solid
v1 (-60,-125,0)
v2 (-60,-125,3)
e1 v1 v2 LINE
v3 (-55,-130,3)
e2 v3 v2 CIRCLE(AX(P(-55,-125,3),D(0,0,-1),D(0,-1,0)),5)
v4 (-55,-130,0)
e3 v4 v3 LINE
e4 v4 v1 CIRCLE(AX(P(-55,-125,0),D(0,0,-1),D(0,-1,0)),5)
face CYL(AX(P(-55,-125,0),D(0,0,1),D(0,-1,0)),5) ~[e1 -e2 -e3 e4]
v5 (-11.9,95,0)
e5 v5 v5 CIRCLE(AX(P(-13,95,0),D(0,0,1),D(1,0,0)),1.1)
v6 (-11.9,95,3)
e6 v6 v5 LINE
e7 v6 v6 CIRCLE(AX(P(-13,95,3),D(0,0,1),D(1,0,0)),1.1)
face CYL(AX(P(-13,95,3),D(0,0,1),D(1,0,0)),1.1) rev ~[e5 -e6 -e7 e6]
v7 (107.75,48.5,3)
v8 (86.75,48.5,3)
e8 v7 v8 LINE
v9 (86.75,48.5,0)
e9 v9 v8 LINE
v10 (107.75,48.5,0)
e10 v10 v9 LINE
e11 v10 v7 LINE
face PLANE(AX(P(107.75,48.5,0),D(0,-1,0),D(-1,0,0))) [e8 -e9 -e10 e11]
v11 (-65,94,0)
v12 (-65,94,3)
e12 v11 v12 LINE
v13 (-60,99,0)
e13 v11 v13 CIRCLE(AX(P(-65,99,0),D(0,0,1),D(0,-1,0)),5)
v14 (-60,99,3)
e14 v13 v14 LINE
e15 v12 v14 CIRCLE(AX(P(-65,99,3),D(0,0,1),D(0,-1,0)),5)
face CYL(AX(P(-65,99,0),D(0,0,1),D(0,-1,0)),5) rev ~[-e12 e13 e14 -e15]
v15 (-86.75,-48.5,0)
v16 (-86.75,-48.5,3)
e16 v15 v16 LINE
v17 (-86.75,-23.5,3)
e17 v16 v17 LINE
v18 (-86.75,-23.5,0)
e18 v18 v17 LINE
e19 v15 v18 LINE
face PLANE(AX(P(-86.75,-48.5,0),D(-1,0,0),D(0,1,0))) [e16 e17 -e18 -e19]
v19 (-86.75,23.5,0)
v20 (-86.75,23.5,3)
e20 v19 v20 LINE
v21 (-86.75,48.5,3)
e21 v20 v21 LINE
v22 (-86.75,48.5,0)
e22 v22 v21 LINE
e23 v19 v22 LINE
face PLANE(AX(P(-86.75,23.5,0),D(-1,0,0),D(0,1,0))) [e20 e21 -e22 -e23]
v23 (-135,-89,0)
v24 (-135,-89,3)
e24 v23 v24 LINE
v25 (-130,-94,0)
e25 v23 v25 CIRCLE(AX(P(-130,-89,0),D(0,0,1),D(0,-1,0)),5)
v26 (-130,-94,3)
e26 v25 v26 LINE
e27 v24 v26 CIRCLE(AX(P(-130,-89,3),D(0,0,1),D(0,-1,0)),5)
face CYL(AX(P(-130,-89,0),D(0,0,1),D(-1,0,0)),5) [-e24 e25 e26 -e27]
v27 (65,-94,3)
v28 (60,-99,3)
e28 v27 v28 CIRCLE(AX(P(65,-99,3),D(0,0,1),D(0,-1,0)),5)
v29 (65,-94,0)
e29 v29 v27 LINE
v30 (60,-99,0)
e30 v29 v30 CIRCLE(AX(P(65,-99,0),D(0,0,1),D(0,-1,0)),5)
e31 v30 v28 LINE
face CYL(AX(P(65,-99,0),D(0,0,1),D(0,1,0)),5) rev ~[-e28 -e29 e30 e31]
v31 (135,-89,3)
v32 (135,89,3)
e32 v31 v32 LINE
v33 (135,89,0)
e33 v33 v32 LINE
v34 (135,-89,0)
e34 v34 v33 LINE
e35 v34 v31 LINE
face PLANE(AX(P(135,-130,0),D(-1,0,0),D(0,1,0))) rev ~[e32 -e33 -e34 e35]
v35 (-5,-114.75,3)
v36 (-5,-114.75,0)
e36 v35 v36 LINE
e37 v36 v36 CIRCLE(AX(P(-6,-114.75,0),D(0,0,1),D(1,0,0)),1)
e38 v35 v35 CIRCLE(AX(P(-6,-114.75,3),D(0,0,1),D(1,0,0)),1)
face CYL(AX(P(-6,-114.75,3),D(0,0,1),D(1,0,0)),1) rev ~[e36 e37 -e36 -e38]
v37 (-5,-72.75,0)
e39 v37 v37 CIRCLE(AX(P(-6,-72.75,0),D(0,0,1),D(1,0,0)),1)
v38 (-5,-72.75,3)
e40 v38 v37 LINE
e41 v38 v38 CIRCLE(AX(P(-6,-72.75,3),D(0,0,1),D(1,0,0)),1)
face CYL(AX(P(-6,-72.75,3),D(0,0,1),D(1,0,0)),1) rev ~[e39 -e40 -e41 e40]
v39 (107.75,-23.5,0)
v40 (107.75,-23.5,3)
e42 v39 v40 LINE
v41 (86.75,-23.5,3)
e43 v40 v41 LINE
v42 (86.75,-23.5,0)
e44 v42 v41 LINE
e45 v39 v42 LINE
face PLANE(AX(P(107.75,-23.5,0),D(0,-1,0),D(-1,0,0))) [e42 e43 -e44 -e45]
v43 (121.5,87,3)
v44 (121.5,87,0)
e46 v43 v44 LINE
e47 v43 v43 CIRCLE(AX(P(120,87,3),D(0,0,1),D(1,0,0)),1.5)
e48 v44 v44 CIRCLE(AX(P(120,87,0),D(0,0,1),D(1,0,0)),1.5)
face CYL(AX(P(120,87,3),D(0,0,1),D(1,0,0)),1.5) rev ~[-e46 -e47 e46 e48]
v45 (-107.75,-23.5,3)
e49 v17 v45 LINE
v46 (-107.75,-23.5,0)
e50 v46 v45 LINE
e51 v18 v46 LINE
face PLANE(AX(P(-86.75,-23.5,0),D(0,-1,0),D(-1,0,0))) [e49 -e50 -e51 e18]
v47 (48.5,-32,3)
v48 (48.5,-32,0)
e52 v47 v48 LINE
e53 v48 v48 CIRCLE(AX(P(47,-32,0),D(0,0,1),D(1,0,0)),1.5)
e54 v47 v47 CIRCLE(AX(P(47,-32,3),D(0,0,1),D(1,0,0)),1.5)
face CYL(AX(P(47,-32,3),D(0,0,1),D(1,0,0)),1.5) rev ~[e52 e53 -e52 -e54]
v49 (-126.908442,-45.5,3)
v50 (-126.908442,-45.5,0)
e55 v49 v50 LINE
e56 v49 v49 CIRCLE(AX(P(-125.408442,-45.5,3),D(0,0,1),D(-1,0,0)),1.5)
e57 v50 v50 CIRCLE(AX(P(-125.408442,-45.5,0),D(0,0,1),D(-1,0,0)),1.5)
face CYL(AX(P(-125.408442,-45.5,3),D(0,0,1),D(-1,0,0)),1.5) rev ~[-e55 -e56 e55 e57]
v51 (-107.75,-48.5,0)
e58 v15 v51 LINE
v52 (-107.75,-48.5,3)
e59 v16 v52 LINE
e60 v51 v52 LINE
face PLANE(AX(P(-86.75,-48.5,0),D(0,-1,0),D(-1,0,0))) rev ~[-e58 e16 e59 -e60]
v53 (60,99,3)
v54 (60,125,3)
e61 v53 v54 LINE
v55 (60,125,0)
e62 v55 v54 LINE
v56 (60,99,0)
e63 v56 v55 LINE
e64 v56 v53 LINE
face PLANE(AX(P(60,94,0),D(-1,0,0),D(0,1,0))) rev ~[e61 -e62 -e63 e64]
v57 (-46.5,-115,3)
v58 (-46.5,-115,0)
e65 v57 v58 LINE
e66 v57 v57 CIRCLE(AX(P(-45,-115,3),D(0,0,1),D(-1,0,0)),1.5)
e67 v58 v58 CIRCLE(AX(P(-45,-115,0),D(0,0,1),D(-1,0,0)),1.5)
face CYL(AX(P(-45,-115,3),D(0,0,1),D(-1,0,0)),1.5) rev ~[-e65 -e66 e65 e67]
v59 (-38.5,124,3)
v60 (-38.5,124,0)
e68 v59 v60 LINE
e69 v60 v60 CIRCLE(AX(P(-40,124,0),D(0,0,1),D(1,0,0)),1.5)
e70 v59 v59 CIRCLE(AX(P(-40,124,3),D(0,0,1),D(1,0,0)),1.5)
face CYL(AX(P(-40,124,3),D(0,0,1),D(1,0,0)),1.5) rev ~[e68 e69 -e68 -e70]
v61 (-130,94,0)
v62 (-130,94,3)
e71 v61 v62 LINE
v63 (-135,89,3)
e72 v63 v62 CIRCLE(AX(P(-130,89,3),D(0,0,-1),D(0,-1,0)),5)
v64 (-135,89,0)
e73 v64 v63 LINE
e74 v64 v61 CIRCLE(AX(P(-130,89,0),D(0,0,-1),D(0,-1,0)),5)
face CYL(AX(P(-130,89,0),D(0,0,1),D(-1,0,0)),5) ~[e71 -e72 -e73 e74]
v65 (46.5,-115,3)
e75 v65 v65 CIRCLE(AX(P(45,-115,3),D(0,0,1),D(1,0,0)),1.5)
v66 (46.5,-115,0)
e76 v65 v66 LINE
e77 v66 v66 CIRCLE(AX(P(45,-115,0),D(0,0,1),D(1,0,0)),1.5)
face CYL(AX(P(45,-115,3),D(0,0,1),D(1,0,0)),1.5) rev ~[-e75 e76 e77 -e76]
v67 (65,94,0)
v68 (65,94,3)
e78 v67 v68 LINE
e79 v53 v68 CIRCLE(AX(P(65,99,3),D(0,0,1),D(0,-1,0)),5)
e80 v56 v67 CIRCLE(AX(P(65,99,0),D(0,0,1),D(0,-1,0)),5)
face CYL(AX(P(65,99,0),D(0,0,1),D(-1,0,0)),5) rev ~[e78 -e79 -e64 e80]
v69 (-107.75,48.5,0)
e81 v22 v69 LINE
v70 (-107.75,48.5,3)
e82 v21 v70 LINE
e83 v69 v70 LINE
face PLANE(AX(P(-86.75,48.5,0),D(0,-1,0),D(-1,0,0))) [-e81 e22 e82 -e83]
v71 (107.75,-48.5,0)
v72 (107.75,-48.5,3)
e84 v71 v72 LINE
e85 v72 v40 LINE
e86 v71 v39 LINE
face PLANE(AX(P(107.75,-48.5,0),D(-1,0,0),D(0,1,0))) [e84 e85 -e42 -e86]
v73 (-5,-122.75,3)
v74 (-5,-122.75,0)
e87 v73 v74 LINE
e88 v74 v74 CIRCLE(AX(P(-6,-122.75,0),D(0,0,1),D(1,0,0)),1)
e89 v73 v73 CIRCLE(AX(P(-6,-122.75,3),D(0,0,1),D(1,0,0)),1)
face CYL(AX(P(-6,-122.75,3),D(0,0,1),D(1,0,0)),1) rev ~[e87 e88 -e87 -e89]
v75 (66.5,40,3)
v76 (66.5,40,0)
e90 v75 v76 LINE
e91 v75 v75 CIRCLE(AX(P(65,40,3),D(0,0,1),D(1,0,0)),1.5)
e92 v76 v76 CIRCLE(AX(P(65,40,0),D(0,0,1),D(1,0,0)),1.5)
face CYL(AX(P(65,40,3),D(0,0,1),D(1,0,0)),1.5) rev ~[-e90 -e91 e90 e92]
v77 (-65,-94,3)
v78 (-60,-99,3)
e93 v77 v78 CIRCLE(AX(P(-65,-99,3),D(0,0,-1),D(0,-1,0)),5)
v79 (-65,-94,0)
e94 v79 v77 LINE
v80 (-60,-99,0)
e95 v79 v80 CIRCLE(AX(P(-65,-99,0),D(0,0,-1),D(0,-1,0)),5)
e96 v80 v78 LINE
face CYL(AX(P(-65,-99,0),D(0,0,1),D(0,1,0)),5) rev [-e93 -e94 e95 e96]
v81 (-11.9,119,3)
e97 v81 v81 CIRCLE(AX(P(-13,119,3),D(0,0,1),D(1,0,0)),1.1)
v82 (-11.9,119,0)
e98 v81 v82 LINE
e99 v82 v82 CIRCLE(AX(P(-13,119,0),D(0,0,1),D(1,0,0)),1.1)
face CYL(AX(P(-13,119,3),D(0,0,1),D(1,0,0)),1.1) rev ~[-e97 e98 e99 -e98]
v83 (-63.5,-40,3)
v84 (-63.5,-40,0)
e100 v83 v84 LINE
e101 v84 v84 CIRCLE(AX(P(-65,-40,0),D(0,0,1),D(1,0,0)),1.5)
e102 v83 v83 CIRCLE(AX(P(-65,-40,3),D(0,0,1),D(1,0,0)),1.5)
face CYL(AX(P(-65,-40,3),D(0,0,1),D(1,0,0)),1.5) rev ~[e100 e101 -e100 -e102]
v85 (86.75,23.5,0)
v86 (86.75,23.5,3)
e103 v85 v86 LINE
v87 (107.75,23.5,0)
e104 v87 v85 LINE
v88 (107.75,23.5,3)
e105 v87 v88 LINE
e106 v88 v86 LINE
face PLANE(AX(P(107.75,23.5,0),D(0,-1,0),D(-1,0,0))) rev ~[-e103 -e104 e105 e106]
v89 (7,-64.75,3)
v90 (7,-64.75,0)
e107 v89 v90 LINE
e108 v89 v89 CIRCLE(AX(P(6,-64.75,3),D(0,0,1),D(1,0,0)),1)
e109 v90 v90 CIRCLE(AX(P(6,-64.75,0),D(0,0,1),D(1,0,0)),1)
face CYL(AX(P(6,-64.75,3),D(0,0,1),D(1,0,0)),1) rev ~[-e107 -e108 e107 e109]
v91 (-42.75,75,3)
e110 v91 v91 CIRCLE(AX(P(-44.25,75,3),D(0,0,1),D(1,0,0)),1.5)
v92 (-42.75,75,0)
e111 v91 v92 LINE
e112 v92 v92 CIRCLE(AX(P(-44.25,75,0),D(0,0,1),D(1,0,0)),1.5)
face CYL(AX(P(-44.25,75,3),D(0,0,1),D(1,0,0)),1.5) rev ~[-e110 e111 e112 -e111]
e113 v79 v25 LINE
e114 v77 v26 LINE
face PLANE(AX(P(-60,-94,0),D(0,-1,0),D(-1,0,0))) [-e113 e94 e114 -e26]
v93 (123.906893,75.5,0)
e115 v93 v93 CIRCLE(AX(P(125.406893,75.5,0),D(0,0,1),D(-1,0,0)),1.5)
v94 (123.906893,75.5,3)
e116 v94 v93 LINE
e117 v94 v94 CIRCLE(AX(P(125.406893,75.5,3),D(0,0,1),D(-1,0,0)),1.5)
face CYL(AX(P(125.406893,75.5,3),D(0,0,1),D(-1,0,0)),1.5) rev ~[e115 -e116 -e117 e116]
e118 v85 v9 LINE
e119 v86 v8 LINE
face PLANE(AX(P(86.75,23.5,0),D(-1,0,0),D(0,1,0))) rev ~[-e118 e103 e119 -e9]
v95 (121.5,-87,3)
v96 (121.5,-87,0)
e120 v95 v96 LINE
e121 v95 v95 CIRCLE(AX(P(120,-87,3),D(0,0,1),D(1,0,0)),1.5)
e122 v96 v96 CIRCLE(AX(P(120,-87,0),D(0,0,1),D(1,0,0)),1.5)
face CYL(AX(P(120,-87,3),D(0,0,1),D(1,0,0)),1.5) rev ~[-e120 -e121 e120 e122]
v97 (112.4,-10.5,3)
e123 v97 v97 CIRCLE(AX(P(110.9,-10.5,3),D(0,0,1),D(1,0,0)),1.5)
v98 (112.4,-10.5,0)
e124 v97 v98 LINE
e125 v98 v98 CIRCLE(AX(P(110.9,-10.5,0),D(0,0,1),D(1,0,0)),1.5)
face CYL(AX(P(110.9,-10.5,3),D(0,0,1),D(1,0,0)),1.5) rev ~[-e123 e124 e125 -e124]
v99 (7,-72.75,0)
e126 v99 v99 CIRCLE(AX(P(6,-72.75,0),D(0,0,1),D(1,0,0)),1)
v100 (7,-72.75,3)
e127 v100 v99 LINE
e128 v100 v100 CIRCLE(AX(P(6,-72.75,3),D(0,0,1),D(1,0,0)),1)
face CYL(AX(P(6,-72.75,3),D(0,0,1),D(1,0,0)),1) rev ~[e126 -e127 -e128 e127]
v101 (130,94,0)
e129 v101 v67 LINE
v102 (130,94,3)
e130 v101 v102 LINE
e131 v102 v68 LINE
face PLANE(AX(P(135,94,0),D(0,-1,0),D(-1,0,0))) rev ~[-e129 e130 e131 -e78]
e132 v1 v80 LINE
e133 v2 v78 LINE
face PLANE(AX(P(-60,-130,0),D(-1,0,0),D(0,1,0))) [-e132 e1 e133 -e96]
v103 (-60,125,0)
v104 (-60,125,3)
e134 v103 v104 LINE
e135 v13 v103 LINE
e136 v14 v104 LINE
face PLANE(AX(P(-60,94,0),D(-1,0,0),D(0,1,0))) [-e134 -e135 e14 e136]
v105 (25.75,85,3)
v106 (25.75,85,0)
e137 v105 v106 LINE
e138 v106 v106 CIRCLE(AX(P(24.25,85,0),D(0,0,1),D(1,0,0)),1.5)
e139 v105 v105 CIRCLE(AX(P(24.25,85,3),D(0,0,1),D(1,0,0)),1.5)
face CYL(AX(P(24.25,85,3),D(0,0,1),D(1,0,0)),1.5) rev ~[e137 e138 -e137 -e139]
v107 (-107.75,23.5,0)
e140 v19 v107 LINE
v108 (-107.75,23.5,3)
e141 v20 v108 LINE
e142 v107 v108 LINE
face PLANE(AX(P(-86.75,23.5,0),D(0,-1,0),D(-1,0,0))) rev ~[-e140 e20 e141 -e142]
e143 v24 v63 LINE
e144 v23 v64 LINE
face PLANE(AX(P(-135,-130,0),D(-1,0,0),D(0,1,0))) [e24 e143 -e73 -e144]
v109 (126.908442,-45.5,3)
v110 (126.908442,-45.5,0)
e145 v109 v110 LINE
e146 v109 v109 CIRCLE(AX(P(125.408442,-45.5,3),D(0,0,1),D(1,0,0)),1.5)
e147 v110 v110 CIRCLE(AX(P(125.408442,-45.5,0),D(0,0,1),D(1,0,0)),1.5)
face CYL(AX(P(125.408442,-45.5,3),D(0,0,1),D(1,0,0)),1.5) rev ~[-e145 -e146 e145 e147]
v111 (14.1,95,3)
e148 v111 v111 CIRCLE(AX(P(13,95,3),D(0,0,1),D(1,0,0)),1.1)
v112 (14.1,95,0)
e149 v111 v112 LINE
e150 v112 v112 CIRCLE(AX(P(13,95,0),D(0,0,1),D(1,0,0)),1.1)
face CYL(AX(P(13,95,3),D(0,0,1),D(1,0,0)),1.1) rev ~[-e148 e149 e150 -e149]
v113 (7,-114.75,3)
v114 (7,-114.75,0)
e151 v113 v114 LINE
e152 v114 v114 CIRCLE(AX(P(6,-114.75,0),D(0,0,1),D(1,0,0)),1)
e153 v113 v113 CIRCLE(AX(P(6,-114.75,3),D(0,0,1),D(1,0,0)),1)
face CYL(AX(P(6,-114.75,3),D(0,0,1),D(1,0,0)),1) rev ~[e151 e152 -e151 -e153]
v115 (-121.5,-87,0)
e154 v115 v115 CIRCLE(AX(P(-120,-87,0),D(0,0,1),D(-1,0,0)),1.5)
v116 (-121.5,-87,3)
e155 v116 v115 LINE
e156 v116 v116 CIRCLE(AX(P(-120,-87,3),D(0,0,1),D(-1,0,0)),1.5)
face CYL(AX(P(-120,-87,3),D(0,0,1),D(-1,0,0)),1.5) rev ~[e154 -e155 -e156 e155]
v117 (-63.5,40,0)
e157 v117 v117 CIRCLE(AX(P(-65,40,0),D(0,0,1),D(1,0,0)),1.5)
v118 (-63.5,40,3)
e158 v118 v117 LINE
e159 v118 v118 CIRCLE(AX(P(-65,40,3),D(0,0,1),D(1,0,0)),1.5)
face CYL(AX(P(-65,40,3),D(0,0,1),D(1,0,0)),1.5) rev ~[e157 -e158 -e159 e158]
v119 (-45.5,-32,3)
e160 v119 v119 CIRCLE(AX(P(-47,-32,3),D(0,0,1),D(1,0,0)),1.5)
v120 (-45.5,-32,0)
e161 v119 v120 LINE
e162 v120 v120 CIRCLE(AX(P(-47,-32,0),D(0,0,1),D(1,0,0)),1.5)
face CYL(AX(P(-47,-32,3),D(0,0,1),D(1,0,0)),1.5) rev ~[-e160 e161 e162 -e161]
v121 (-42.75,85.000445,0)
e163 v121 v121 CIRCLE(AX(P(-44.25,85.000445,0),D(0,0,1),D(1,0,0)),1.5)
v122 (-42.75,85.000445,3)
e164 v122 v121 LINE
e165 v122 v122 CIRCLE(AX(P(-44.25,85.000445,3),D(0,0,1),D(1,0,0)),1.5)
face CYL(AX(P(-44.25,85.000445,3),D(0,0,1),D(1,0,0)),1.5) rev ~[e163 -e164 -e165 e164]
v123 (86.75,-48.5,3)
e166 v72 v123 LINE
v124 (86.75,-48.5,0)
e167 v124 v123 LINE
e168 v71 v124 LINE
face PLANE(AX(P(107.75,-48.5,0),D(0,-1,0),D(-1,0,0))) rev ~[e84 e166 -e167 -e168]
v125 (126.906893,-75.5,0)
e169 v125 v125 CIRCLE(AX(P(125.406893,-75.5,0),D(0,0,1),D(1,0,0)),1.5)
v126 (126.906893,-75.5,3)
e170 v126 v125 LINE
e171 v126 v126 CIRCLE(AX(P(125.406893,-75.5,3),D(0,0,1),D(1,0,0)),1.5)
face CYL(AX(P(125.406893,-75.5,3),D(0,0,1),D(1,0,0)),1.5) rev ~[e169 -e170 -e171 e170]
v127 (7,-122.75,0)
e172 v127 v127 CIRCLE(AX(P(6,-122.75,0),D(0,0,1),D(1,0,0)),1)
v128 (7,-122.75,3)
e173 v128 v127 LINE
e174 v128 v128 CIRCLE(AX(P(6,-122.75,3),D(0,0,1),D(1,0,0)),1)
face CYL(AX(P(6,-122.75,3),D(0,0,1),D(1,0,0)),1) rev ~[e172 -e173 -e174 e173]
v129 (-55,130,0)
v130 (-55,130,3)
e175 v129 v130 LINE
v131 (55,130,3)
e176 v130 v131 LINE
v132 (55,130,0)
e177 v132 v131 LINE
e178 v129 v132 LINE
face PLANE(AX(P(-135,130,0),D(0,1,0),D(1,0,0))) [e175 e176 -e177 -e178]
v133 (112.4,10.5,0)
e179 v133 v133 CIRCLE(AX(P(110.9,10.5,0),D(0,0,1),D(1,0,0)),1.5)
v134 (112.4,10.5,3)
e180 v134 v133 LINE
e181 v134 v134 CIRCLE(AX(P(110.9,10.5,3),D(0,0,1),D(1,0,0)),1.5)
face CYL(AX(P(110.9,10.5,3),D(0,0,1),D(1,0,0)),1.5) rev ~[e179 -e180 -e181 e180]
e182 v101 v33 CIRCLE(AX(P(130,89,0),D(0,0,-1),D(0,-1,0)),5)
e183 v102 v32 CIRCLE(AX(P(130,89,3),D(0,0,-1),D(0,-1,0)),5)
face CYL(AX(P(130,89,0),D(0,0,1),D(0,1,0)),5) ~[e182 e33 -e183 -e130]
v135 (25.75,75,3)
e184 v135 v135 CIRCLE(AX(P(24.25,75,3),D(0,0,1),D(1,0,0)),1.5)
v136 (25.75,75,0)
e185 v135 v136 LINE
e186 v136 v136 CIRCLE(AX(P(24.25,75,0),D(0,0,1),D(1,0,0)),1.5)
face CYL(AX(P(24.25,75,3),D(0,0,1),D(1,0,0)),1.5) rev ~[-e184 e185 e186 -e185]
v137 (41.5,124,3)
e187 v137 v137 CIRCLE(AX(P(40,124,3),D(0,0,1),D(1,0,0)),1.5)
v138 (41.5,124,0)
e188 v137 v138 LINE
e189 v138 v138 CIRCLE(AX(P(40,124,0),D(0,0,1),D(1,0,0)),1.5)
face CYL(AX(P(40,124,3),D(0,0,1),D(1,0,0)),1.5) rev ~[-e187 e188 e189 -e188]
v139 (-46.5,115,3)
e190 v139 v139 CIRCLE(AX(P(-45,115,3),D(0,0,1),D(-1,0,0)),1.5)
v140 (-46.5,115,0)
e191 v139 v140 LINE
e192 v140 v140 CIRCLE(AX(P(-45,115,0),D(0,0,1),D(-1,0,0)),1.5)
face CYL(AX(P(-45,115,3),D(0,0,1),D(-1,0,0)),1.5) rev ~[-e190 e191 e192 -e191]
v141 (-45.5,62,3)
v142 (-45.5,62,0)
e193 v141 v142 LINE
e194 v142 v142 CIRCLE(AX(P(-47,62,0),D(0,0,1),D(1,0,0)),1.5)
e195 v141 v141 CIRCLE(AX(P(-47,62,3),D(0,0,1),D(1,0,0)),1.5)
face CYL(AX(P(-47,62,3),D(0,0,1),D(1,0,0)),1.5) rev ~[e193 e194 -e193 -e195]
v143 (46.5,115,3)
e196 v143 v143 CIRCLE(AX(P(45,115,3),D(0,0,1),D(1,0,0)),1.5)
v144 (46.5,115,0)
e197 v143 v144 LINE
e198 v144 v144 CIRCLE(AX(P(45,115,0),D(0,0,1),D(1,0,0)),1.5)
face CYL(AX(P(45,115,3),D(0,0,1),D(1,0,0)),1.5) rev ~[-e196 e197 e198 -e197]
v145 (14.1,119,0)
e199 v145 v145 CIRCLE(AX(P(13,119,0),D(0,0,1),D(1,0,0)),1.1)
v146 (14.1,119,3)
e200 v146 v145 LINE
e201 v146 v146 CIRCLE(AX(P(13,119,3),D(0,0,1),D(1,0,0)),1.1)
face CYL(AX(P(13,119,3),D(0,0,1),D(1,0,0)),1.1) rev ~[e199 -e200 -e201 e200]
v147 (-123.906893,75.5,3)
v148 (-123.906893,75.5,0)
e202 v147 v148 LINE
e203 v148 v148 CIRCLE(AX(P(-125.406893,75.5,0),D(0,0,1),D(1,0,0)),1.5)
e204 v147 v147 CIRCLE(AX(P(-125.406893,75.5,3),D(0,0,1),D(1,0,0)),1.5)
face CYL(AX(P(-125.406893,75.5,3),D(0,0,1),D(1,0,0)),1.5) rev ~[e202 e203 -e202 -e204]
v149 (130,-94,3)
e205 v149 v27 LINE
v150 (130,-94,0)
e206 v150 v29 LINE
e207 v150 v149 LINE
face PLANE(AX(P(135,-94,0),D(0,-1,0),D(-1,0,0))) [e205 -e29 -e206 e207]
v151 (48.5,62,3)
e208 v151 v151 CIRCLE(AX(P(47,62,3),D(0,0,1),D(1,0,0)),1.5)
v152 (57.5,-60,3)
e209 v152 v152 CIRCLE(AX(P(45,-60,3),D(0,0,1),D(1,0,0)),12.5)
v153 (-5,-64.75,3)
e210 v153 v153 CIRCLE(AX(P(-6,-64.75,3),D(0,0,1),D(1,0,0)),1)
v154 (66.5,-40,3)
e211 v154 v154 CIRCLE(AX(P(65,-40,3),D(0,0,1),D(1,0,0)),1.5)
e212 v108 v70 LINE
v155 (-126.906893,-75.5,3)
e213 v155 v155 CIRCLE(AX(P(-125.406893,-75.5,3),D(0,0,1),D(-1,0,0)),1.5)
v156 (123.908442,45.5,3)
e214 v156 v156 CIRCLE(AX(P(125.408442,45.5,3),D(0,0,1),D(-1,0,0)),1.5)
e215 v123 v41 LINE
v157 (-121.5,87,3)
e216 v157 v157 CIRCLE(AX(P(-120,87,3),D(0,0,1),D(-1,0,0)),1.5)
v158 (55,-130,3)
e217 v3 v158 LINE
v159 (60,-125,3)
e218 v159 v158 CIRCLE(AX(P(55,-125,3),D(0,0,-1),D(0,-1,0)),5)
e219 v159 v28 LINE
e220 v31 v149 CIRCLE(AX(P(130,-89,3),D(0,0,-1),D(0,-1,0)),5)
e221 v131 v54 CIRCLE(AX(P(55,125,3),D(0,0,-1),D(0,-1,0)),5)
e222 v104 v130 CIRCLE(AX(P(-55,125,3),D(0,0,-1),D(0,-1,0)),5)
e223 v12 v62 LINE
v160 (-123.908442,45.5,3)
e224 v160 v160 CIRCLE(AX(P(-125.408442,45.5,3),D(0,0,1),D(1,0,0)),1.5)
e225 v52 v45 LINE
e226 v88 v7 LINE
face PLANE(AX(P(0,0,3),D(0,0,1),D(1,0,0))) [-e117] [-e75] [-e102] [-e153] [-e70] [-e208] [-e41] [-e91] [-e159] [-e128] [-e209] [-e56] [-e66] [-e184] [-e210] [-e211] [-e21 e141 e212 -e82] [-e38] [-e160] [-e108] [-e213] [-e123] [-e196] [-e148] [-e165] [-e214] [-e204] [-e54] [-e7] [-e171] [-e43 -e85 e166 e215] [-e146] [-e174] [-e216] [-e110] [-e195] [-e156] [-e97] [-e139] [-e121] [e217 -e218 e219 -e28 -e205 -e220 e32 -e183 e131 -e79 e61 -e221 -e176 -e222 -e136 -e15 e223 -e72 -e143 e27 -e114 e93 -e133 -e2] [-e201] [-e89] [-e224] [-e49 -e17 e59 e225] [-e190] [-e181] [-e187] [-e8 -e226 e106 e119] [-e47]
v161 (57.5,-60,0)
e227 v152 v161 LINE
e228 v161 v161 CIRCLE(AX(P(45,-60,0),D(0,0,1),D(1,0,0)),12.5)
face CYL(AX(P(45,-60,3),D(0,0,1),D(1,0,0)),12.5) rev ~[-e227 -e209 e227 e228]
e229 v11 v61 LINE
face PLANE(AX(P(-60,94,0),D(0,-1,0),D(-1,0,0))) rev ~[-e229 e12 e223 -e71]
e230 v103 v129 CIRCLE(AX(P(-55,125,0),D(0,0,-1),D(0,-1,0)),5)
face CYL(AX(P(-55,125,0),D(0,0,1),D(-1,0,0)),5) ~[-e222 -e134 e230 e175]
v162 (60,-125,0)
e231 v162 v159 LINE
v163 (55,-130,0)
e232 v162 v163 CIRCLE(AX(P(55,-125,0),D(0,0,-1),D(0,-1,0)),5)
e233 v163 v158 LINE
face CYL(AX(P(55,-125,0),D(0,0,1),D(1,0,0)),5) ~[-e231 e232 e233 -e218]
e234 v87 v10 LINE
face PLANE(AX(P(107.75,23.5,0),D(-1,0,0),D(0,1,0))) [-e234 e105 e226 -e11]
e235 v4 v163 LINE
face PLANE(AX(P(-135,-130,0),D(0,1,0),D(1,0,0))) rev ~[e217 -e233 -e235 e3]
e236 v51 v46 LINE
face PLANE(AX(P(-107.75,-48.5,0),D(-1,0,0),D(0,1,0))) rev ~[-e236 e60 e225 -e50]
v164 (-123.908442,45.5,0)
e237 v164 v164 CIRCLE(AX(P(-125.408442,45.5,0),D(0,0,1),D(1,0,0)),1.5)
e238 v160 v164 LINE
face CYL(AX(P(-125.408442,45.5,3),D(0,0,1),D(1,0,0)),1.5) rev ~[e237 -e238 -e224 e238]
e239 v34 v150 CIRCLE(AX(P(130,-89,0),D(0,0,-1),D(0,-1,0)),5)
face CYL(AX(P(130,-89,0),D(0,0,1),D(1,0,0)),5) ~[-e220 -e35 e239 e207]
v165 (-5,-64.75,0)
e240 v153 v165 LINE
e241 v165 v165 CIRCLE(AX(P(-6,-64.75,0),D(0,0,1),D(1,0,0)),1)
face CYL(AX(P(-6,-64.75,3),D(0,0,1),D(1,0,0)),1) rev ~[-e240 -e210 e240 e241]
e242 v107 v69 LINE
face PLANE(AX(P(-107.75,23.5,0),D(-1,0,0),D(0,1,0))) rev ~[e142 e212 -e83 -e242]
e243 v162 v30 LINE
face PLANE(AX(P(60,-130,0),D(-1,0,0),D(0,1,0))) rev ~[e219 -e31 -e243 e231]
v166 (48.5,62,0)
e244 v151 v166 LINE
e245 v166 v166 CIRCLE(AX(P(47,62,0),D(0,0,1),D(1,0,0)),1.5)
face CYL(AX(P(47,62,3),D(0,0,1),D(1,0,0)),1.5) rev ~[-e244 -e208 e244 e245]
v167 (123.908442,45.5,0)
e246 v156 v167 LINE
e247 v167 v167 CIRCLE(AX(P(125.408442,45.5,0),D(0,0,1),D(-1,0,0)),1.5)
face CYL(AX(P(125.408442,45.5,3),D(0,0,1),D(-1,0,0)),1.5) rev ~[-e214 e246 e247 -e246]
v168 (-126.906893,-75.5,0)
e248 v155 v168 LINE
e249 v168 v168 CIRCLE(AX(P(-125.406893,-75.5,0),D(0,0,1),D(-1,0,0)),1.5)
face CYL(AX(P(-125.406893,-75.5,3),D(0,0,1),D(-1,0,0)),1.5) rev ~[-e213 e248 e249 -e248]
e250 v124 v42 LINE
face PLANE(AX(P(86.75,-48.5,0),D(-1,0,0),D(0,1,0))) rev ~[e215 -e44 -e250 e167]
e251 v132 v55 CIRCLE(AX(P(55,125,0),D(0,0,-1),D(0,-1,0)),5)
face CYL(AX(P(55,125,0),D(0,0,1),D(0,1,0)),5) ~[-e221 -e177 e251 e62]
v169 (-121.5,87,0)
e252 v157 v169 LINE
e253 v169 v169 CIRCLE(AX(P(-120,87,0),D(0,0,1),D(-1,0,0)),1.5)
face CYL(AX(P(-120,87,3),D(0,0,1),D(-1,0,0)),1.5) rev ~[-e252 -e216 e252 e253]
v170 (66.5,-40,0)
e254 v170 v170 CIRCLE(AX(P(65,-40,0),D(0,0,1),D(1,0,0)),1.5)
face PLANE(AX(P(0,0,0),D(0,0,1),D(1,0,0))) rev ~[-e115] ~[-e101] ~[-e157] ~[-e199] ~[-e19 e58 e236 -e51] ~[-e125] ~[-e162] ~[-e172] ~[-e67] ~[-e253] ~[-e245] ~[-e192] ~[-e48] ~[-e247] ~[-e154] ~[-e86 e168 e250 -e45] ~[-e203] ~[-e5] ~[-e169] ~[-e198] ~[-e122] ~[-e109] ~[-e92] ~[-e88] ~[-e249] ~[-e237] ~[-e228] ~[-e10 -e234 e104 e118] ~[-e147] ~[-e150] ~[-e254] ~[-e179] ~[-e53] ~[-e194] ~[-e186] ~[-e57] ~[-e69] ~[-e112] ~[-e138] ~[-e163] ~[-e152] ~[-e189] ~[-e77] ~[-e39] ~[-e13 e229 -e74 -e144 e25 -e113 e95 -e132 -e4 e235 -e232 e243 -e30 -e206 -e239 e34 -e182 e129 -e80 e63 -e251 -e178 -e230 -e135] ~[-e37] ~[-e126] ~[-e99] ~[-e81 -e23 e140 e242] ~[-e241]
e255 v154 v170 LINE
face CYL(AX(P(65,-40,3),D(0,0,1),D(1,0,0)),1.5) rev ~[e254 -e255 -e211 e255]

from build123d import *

# Parameters (mm, degrees)
SKETCH_1_W           = 270
SKETCH_1_H           = 260
EXTRUDE_1_DEPTH      = 3
CUT_EXTRUDE_1_REACH  = 189.441
SKETCH_2_W           = 75
SKETCH_2_H           = 36
SKETCH_2_W_2         = 21
SKETCH_2_H_2         = 25
FILLET_1_R           = 5
SKETCH_3_R           = 1.5
CUT_EXTRUDE_2_DEPTH  = 10
SKETCH_4_R           = 1.5
CUT_EXTRUDE_3_DEPTH  = 188.440657276
SKETCH_5_R           = 1.5
CUT_EXTRUDE_4_DEPTH  = 188.440657276
SKETCH_6_R           = 1
CUT_EXTRUDE_5_DEPTH  = 188.440657276
SKETCH_7_R           = 1.5
CUT_EXTRUDE_6_DEPTH  = 188.440657276
SKETCH_8_R           = 1.5
CUT_EXTRUDE_7_DEPTH  = 188.440657276
SKETCH_9_R           = 1.1
CUT_EXTRUDE_8_DEPTH  = 188.440657276
CUT_EXTRUDE_9_REACH  = 189.441
SKETCH_10_R          = 1.5
SKETCH_11_R          = 12.5
CUT_EXTRUDE_10_DEPTH = 10


with BuildPart() as part:
    # 草图1 → 凸台-拉伸1 (new body)
    with BuildSketch(Plane.XY):
        Rectangle(SKETCH_1_W, SKETCH_1_H)
    extrude(amount=EXTRUDE_1_DEPTH)

    # 草图2 → 切除-拉伸1 (cut, up to next)
    with BuildSketch(Plane(origin=(0, 0, 0), x_dir=(-1, 0, 0), z_dir=(0, 0, -1)), mode=Mode.PRIVATE) as cut_extrude_1_sk1:
        with Locations((97.5, -112)):
            Rectangle(SKETCH_2_W, SKETCH_2_H)
    cut_extrude_1_tool1 = extrude(cut_extrude_1_sk1.sketch, amount=-CUT_EXTRUDE_1_REACH, mode=Mode.PRIVATE) & part.part
    # 草图2 → 切除-拉伸1 (cut, up to next)
    with BuildSketch(Plane(origin=(0, 0, 0), x_dir=(-1, 0, 0), z_dir=(0, 0, -1)), mode=Mode.PRIVATE) as cut_extrude_1_sk2:
        with Locations((97.25, -36)):
            Rectangle(SKETCH_2_W_2, SKETCH_2_H_2)
    cut_extrude_1_tool2 = extrude(cut_extrude_1_sk2.sketch, amount=-CUT_EXTRUDE_1_REACH, mode=Mode.PRIVATE) & part.part
    # 草图2 → 切除-拉伸1 (cut, up to next)
    with BuildSketch(Plane(origin=(0, 0, 0), x_dir=(-1, 0, 0), z_dir=(0, 0, -1)), mode=Mode.PRIVATE) as cut_extrude_1_sk3:
        with Locations((-97.5, 112)):
            Rectangle(SKETCH_2_W, SKETCH_2_H)
    cut_extrude_1_tool3 = extrude(cut_extrude_1_sk3.sketch, amount=-CUT_EXTRUDE_1_REACH, mode=Mode.PRIVATE) & part.part
    # 草图2 → 切除-拉伸1 (cut, up to next)
    with BuildSketch(Plane(origin=(0, 0, 0), x_dir=(-1, 0, 0), z_dir=(0, 0, -1)), mode=Mode.PRIVATE) as cut_extrude_1_sk4:
        with Locations((-97.25, -36)):
            Rectangle(SKETCH_2_W_2, SKETCH_2_H_2)
    cut_extrude_1_tool4 = extrude(cut_extrude_1_sk4.sketch, amount=-CUT_EXTRUDE_1_REACH, mode=Mode.PRIVATE) & part.part
    # 草图2 → 切除-拉伸1 (cut, up to next)
    with BuildSketch(Plane(origin=(0, 0, 0), x_dir=(-1, 0, 0), z_dir=(0, 0, -1)), mode=Mode.PRIVATE) as cut_extrude_1_sk5:
        with Locations((-97.5, -112)):
            Rectangle(SKETCH_2_W, SKETCH_2_H)
    cut_extrude_1_tool5 = extrude(cut_extrude_1_sk5.sketch, amount=-CUT_EXTRUDE_1_REACH, mode=Mode.PRIVATE) & part.part
    # 草图2 → 切除-拉伸1 (cut, up to next)
    with BuildSketch(Plane(origin=(0, 0, 0), x_dir=(-1, 0, 0), z_dir=(0, 0, -1)), mode=Mode.PRIVATE) as cut_extrude_1_sk6:
        with Locations((-97.25, 36)):
            Rectangle(SKETCH_2_W_2, SKETCH_2_H_2)
    cut_extrude_1_tool6 = extrude(cut_extrude_1_sk6.sketch, amount=-CUT_EXTRUDE_1_REACH, mode=Mode.PRIVATE) & part.part
    # 草图2 → 切除-拉伸1 (cut, up to next)
    with BuildSketch(Plane(origin=(0, 0, 0), x_dir=(-1, 0, 0), z_dir=(0, 0, -1)), mode=Mode.PRIVATE) as cut_extrude_1_sk7:
        with Locations((97.25, 36)):
            Rectangle(SKETCH_2_W_2, SKETCH_2_H_2)
    cut_extrude_1_tool7 = extrude(cut_extrude_1_sk7.sketch, amount=-CUT_EXTRUDE_1_REACH, mode=Mode.PRIVATE) & part.part
    # 草图2 → 切除-拉伸1 (cut, up to next)
    with BuildSketch(Plane(origin=(0, 0, 0), x_dir=(-1, 0, 0), z_dir=(0, 0, -1)), mode=Mode.PRIVATE) as cut_extrude_1_sk8:
        with Locations((97.5, 112)):
            Rectangle(SKETCH_2_W, SKETCH_2_H)
    cut_extrude_1_tool8 = extrude(cut_extrude_1_sk8.sketch, amount=-CUT_EXTRUDE_1_REACH, mode=Mode.PRIVATE) & part.part
    add(cut_extrude_1_tool1.solids().sort_by_distance((-97.5, -112, 0))[0], mode=Mode.SUBTRACT)
    add(cut_extrude_1_tool2.solids().sort_by_distance((-97.25, -36, 0))[0], mode=Mode.SUBTRACT)
    add(cut_extrude_1_tool3.solids().sort_by_distance((97.5, 112, 0))[0], mode=Mode.SUBTRACT)
    add(cut_extrude_1_tool4.solids().sort_by_distance((97.25, -36, 0))[0], mode=Mode.SUBTRACT)
    add(cut_extrude_1_tool5.solids().sort_by_distance((97.5, -112, 0))[0], mode=Mode.SUBTRACT)
    add(cut_extrude_1_tool6.solids().sort_by_distance((97.25, 36, 0))[0], mode=Mode.SUBTRACT)
    add(cut_extrude_1_tool7.solids().sort_by_distance((-97.25, 36, 0))[0], mode=Mode.SUBTRACT)
    add(cut_extrude_1_tool8.solids().sort_by_distance((-97.5, 112, 0))[0], mode=Mode.SUBTRACT)

    # 圆角1
    fillet_1_edges = [part.edges().sort_by_distance(p)[0] for p in [
        (135, 94, 1.5),
        (60, 130, 1.5),
        (60, 94, 1.5),
        (60, -130, 1.5),
        (135, -94, 1.5),
        (60, -94, 1.5),
        (-60, 130, 1.5),
        (-135, 94, 1.5),
        (-60, 94, 1.5),
        (-135, -94, 1.5),
        (-60, -130, 1.5),
        (-60, -94, 1.5),
    ]]
    fillet(fillet_1_edges, radius=FILLET_1_R)

    # 草图3 → 切除-拉伸2 (cut)
    with BuildSketch(Plane.XY.offset(3)):
        with Locations((-47, -32)):
            Circle(SKETCH_3_R)
        with Locations((47, -32)):
            Circle(SKETCH_3_R)
        with Locations((47, 62)):
            Circle(SKETCH_3_R)
        with Locations((-47, 62)):
            Circle(SKETCH_3_R)
    extrude(amount=-CUT_EXTRUDE_2_DEPTH, mode=Mode.SUBTRACT)

    # 草图4 → 切除-拉伸3 (cut, through all)
    with BuildSketch(Plane.XY.offset(3)):
        with Locations((45, 115)):
            Circle(SKETCH_4_R)
        with Locations((120, 87)):
            Circle(SKETCH_4_R)
        with Locations((120, -87)):
            Circle(SKETCH_4_R)
        with Locations((45, -115)):
            Circle(SKETCH_4_R)
        with Locations(Location((-45, -115, 0), (0, 0, 180))):
            Circle(SKETCH_4_R)
        with Locations(Location((-120, -87, 0), (0, 0, 180))):
            Circle(SKETCH_4_R)
        with Locations(Location((-120, 87, 0), (0, 0, 180))):
            Circle(SKETCH_4_R)
        with Locations(Location((-45, 115, 0), (0, 0, 180))):
            Circle(SKETCH_4_R)
        with Locations((-65, 40)):
            Circle(SKETCH_4_R)
        with Locations((65, 40)):
            Circle(SKETCH_4_R)
        with Locations((-65, -40)):
            Circle(SKETCH_4_R)
        with Locations((65, -40)):
            Circle(SKETCH_4_R)
    extrude(amount=-CUT_EXTRUDE_3_DEPTH, mode=Mode.SUBTRACT)

    # 草图5 → 切除-拉伸4 (cut, through all)
    with BuildSketch(Plane.XY.offset(3)):
        with Locations((125.408441645, -45.5)):
            Circle(SKETCH_5_R)
        with Locations((125.406892783, -75.49999996)):
            Circle(SKETCH_5_R)
        with Locations(Location((125.406892783, 75.49999996, 0), (0, 0, 180))):
            Circle(SKETCH_5_R)
        with Locations(Location((125.408441645, 45.5, 0), (0, 0, 180))):
            Circle(SKETCH_5_R)
        with Locations(Location((-125.406892783, -75.49999996, 0), (0, 0, 180))):
            Circle(SKETCH_5_R)
        with Locations(Location((-125.408441645, -45.5, 0), (0, 0, 180))):
            Circle(SKETCH_5_R)
        with Locations((-125.408441645, 45.5)):
            Circle(SKETCH_5_R)
        with Locations((-125.406892783, 75.49999996)):
            Circle(SKETCH_5_R)
    extrude(amount=-CUT_EXTRUDE_4_DEPTH, mode=Mode.SUBTRACT)

    # 草图6 → 切除-拉伸5 (cut, through all)
    with BuildSketch(Plane.XY.offset(3)):
        with Locations((-6, -114.75)):
            Circle(SKETCH_6_R)
        with Locations((6, -114.75)):
            Circle(SKETCH_6_R)
        with Locations((-6, -122.75)):
            Circle(SKETCH_6_R)
        with Locations((6, -122.75)):
            Circle(SKETCH_6_R)
        with Locations((-6, -72.75)):
            Circle(SKETCH_6_R)
        with Locations((6, -72.75)):
            Circle(SKETCH_6_R)
        with Locations((-6, -64.75)):
            Circle(SKETCH_6_R)
        with Locations((6, -64.75)):
            Circle(SKETCH_6_R)
    extrude(amount=-CUT_EXTRUDE_5_DEPTH, mode=Mode.SUBTRACT)

    # 草图7 → 切除-拉伸6 (cut, through all)
    with BuildSketch(Plane.XY.offset(3)):
        with Locations((110.9, 10.5)):
            Circle(SKETCH_7_R)
        with Locations((110.9, -10.5)):
            Circle(SKETCH_7_R)
    extrude(amount=-CUT_EXTRUDE_6_DEPTH, mode=Mode.SUBTRACT)

    # 草图8 → 切除-拉伸7 (cut, through all)
    with BuildSketch(Plane.XY.offset(3)):
        with Locations((-40, 124)):
            Circle(SKETCH_8_R)
        with Locations((40, 124)):
            Circle(SKETCH_8_R)
    extrude(amount=-CUT_EXTRUDE_7_DEPTH, mode=Mode.SUBTRACT)

    # 草图9 → 切除-拉伸8 (cut, through all)
    with BuildSketch(Plane.XY.offset(3)):
        with Locations((-13, 119)):
            Circle(SKETCH_9_R)
        with Locations((13, 119)):
            Circle(SKETCH_9_R)
        with Locations((-13, 95)):
            Circle(SKETCH_9_R)
        with Locations((13, 95)):
            Circle(SKETCH_9_R)
    extrude(amount=-CUT_EXTRUDE_8_DEPTH, mode=Mode.SUBTRACT)

    # 草图10 → 切除-拉伸9 (cut, up to next)
    with BuildSketch(Plane.XY.offset(3), mode=Mode.PRIVATE) as cut_extrude_9_sk1:
        with Locations((-44.249999943, 85.000444876)):
            Circle(SKETCH_10_R)
    cut_extrude_9_tool1 = extrude(cut_extrude_9_sk1.sketch, amount=-CUT_EXTRUDE_9_REACH, mode=Mode.PRIVATE) & part.part
    # 草图10 → 切除-拉伸9 (cut, up to next)
    with BuildSketch(Plane.XY.offset(3), mode=Mode.PRIVATE) as cut_extrude_9_sk2:
        with Locations((-44.249999943, 75)):
            Circle(SKETCH_10_R)
    cut_extrude_9_tool2 = extrude(cut_extrude_9_sk2.sketch, amount=-CUT_EXTRUDE_9_REACH, mode=Mode.PRIVATE) & part.part
    # 草图10 → 切除-拉伸9 (cut, up to next)
    with BuildSketch(Plane.XY.offset(3), mode=Mode.PRIVATE) as cut_extrude_9_sk3:
        with Locations((24.25, 85)):
            Circle(SKETCH_10_R)
    cut_extrude_9_tool3 = extrude(cut_extrude_9_sk3.sketch, amount=-CUT_EXTRUDE_9_REACH, mode=Mode.PRIVATE) & part.part
    # 草图10 → 切除-拉伸9 (cut, up to next)
    with BuildSketch(Plane.XY.offset(3), mode=Mode.PRIVATE) as cut_extrude_9_sk4:
        with Locations((24.25, 75)):
            Circle(SKETCH_10_R)
    cut_extrude_9_tool4 = extrude(cut_extrude_9_sk4.sketch, amount=-CUT_EXTRUDE_9_REACH, mode=Mode.PRIVATE) & part.part
    add(cut_extrude_9_tool1.solids().sort_by_distance((-44.25, 85.000445, 3))[0], mode=Mode.SUBTRACT)
    add(cut_extrude_9_tool2.solids().sort_by_distance((-44.25, 75, 3))[0], mode=Mode.SUBTRACT)
    add(cut_extrude_9_tool3.solids().sort_by_distance((24.25, 85, 3))[0], mode=Mode.SUBTRACT)
    add(cut_extrude_9_tool4.solids().sort_by_distance((24.25, 75, 3))[0], mode=Mode.SUBTRACT)

    # 草图11 → 切除-拉伸10 (cut)
    with BuildSketch(Plane.XY.offset(3)):
        with Locations((45, -60)):
            Circle(SKETCH_11_R)
    extrude(amount=-CUT_EXTRUDE_10_DEPTH, mode=Mode.SUBTRACT)


solid = part.part
